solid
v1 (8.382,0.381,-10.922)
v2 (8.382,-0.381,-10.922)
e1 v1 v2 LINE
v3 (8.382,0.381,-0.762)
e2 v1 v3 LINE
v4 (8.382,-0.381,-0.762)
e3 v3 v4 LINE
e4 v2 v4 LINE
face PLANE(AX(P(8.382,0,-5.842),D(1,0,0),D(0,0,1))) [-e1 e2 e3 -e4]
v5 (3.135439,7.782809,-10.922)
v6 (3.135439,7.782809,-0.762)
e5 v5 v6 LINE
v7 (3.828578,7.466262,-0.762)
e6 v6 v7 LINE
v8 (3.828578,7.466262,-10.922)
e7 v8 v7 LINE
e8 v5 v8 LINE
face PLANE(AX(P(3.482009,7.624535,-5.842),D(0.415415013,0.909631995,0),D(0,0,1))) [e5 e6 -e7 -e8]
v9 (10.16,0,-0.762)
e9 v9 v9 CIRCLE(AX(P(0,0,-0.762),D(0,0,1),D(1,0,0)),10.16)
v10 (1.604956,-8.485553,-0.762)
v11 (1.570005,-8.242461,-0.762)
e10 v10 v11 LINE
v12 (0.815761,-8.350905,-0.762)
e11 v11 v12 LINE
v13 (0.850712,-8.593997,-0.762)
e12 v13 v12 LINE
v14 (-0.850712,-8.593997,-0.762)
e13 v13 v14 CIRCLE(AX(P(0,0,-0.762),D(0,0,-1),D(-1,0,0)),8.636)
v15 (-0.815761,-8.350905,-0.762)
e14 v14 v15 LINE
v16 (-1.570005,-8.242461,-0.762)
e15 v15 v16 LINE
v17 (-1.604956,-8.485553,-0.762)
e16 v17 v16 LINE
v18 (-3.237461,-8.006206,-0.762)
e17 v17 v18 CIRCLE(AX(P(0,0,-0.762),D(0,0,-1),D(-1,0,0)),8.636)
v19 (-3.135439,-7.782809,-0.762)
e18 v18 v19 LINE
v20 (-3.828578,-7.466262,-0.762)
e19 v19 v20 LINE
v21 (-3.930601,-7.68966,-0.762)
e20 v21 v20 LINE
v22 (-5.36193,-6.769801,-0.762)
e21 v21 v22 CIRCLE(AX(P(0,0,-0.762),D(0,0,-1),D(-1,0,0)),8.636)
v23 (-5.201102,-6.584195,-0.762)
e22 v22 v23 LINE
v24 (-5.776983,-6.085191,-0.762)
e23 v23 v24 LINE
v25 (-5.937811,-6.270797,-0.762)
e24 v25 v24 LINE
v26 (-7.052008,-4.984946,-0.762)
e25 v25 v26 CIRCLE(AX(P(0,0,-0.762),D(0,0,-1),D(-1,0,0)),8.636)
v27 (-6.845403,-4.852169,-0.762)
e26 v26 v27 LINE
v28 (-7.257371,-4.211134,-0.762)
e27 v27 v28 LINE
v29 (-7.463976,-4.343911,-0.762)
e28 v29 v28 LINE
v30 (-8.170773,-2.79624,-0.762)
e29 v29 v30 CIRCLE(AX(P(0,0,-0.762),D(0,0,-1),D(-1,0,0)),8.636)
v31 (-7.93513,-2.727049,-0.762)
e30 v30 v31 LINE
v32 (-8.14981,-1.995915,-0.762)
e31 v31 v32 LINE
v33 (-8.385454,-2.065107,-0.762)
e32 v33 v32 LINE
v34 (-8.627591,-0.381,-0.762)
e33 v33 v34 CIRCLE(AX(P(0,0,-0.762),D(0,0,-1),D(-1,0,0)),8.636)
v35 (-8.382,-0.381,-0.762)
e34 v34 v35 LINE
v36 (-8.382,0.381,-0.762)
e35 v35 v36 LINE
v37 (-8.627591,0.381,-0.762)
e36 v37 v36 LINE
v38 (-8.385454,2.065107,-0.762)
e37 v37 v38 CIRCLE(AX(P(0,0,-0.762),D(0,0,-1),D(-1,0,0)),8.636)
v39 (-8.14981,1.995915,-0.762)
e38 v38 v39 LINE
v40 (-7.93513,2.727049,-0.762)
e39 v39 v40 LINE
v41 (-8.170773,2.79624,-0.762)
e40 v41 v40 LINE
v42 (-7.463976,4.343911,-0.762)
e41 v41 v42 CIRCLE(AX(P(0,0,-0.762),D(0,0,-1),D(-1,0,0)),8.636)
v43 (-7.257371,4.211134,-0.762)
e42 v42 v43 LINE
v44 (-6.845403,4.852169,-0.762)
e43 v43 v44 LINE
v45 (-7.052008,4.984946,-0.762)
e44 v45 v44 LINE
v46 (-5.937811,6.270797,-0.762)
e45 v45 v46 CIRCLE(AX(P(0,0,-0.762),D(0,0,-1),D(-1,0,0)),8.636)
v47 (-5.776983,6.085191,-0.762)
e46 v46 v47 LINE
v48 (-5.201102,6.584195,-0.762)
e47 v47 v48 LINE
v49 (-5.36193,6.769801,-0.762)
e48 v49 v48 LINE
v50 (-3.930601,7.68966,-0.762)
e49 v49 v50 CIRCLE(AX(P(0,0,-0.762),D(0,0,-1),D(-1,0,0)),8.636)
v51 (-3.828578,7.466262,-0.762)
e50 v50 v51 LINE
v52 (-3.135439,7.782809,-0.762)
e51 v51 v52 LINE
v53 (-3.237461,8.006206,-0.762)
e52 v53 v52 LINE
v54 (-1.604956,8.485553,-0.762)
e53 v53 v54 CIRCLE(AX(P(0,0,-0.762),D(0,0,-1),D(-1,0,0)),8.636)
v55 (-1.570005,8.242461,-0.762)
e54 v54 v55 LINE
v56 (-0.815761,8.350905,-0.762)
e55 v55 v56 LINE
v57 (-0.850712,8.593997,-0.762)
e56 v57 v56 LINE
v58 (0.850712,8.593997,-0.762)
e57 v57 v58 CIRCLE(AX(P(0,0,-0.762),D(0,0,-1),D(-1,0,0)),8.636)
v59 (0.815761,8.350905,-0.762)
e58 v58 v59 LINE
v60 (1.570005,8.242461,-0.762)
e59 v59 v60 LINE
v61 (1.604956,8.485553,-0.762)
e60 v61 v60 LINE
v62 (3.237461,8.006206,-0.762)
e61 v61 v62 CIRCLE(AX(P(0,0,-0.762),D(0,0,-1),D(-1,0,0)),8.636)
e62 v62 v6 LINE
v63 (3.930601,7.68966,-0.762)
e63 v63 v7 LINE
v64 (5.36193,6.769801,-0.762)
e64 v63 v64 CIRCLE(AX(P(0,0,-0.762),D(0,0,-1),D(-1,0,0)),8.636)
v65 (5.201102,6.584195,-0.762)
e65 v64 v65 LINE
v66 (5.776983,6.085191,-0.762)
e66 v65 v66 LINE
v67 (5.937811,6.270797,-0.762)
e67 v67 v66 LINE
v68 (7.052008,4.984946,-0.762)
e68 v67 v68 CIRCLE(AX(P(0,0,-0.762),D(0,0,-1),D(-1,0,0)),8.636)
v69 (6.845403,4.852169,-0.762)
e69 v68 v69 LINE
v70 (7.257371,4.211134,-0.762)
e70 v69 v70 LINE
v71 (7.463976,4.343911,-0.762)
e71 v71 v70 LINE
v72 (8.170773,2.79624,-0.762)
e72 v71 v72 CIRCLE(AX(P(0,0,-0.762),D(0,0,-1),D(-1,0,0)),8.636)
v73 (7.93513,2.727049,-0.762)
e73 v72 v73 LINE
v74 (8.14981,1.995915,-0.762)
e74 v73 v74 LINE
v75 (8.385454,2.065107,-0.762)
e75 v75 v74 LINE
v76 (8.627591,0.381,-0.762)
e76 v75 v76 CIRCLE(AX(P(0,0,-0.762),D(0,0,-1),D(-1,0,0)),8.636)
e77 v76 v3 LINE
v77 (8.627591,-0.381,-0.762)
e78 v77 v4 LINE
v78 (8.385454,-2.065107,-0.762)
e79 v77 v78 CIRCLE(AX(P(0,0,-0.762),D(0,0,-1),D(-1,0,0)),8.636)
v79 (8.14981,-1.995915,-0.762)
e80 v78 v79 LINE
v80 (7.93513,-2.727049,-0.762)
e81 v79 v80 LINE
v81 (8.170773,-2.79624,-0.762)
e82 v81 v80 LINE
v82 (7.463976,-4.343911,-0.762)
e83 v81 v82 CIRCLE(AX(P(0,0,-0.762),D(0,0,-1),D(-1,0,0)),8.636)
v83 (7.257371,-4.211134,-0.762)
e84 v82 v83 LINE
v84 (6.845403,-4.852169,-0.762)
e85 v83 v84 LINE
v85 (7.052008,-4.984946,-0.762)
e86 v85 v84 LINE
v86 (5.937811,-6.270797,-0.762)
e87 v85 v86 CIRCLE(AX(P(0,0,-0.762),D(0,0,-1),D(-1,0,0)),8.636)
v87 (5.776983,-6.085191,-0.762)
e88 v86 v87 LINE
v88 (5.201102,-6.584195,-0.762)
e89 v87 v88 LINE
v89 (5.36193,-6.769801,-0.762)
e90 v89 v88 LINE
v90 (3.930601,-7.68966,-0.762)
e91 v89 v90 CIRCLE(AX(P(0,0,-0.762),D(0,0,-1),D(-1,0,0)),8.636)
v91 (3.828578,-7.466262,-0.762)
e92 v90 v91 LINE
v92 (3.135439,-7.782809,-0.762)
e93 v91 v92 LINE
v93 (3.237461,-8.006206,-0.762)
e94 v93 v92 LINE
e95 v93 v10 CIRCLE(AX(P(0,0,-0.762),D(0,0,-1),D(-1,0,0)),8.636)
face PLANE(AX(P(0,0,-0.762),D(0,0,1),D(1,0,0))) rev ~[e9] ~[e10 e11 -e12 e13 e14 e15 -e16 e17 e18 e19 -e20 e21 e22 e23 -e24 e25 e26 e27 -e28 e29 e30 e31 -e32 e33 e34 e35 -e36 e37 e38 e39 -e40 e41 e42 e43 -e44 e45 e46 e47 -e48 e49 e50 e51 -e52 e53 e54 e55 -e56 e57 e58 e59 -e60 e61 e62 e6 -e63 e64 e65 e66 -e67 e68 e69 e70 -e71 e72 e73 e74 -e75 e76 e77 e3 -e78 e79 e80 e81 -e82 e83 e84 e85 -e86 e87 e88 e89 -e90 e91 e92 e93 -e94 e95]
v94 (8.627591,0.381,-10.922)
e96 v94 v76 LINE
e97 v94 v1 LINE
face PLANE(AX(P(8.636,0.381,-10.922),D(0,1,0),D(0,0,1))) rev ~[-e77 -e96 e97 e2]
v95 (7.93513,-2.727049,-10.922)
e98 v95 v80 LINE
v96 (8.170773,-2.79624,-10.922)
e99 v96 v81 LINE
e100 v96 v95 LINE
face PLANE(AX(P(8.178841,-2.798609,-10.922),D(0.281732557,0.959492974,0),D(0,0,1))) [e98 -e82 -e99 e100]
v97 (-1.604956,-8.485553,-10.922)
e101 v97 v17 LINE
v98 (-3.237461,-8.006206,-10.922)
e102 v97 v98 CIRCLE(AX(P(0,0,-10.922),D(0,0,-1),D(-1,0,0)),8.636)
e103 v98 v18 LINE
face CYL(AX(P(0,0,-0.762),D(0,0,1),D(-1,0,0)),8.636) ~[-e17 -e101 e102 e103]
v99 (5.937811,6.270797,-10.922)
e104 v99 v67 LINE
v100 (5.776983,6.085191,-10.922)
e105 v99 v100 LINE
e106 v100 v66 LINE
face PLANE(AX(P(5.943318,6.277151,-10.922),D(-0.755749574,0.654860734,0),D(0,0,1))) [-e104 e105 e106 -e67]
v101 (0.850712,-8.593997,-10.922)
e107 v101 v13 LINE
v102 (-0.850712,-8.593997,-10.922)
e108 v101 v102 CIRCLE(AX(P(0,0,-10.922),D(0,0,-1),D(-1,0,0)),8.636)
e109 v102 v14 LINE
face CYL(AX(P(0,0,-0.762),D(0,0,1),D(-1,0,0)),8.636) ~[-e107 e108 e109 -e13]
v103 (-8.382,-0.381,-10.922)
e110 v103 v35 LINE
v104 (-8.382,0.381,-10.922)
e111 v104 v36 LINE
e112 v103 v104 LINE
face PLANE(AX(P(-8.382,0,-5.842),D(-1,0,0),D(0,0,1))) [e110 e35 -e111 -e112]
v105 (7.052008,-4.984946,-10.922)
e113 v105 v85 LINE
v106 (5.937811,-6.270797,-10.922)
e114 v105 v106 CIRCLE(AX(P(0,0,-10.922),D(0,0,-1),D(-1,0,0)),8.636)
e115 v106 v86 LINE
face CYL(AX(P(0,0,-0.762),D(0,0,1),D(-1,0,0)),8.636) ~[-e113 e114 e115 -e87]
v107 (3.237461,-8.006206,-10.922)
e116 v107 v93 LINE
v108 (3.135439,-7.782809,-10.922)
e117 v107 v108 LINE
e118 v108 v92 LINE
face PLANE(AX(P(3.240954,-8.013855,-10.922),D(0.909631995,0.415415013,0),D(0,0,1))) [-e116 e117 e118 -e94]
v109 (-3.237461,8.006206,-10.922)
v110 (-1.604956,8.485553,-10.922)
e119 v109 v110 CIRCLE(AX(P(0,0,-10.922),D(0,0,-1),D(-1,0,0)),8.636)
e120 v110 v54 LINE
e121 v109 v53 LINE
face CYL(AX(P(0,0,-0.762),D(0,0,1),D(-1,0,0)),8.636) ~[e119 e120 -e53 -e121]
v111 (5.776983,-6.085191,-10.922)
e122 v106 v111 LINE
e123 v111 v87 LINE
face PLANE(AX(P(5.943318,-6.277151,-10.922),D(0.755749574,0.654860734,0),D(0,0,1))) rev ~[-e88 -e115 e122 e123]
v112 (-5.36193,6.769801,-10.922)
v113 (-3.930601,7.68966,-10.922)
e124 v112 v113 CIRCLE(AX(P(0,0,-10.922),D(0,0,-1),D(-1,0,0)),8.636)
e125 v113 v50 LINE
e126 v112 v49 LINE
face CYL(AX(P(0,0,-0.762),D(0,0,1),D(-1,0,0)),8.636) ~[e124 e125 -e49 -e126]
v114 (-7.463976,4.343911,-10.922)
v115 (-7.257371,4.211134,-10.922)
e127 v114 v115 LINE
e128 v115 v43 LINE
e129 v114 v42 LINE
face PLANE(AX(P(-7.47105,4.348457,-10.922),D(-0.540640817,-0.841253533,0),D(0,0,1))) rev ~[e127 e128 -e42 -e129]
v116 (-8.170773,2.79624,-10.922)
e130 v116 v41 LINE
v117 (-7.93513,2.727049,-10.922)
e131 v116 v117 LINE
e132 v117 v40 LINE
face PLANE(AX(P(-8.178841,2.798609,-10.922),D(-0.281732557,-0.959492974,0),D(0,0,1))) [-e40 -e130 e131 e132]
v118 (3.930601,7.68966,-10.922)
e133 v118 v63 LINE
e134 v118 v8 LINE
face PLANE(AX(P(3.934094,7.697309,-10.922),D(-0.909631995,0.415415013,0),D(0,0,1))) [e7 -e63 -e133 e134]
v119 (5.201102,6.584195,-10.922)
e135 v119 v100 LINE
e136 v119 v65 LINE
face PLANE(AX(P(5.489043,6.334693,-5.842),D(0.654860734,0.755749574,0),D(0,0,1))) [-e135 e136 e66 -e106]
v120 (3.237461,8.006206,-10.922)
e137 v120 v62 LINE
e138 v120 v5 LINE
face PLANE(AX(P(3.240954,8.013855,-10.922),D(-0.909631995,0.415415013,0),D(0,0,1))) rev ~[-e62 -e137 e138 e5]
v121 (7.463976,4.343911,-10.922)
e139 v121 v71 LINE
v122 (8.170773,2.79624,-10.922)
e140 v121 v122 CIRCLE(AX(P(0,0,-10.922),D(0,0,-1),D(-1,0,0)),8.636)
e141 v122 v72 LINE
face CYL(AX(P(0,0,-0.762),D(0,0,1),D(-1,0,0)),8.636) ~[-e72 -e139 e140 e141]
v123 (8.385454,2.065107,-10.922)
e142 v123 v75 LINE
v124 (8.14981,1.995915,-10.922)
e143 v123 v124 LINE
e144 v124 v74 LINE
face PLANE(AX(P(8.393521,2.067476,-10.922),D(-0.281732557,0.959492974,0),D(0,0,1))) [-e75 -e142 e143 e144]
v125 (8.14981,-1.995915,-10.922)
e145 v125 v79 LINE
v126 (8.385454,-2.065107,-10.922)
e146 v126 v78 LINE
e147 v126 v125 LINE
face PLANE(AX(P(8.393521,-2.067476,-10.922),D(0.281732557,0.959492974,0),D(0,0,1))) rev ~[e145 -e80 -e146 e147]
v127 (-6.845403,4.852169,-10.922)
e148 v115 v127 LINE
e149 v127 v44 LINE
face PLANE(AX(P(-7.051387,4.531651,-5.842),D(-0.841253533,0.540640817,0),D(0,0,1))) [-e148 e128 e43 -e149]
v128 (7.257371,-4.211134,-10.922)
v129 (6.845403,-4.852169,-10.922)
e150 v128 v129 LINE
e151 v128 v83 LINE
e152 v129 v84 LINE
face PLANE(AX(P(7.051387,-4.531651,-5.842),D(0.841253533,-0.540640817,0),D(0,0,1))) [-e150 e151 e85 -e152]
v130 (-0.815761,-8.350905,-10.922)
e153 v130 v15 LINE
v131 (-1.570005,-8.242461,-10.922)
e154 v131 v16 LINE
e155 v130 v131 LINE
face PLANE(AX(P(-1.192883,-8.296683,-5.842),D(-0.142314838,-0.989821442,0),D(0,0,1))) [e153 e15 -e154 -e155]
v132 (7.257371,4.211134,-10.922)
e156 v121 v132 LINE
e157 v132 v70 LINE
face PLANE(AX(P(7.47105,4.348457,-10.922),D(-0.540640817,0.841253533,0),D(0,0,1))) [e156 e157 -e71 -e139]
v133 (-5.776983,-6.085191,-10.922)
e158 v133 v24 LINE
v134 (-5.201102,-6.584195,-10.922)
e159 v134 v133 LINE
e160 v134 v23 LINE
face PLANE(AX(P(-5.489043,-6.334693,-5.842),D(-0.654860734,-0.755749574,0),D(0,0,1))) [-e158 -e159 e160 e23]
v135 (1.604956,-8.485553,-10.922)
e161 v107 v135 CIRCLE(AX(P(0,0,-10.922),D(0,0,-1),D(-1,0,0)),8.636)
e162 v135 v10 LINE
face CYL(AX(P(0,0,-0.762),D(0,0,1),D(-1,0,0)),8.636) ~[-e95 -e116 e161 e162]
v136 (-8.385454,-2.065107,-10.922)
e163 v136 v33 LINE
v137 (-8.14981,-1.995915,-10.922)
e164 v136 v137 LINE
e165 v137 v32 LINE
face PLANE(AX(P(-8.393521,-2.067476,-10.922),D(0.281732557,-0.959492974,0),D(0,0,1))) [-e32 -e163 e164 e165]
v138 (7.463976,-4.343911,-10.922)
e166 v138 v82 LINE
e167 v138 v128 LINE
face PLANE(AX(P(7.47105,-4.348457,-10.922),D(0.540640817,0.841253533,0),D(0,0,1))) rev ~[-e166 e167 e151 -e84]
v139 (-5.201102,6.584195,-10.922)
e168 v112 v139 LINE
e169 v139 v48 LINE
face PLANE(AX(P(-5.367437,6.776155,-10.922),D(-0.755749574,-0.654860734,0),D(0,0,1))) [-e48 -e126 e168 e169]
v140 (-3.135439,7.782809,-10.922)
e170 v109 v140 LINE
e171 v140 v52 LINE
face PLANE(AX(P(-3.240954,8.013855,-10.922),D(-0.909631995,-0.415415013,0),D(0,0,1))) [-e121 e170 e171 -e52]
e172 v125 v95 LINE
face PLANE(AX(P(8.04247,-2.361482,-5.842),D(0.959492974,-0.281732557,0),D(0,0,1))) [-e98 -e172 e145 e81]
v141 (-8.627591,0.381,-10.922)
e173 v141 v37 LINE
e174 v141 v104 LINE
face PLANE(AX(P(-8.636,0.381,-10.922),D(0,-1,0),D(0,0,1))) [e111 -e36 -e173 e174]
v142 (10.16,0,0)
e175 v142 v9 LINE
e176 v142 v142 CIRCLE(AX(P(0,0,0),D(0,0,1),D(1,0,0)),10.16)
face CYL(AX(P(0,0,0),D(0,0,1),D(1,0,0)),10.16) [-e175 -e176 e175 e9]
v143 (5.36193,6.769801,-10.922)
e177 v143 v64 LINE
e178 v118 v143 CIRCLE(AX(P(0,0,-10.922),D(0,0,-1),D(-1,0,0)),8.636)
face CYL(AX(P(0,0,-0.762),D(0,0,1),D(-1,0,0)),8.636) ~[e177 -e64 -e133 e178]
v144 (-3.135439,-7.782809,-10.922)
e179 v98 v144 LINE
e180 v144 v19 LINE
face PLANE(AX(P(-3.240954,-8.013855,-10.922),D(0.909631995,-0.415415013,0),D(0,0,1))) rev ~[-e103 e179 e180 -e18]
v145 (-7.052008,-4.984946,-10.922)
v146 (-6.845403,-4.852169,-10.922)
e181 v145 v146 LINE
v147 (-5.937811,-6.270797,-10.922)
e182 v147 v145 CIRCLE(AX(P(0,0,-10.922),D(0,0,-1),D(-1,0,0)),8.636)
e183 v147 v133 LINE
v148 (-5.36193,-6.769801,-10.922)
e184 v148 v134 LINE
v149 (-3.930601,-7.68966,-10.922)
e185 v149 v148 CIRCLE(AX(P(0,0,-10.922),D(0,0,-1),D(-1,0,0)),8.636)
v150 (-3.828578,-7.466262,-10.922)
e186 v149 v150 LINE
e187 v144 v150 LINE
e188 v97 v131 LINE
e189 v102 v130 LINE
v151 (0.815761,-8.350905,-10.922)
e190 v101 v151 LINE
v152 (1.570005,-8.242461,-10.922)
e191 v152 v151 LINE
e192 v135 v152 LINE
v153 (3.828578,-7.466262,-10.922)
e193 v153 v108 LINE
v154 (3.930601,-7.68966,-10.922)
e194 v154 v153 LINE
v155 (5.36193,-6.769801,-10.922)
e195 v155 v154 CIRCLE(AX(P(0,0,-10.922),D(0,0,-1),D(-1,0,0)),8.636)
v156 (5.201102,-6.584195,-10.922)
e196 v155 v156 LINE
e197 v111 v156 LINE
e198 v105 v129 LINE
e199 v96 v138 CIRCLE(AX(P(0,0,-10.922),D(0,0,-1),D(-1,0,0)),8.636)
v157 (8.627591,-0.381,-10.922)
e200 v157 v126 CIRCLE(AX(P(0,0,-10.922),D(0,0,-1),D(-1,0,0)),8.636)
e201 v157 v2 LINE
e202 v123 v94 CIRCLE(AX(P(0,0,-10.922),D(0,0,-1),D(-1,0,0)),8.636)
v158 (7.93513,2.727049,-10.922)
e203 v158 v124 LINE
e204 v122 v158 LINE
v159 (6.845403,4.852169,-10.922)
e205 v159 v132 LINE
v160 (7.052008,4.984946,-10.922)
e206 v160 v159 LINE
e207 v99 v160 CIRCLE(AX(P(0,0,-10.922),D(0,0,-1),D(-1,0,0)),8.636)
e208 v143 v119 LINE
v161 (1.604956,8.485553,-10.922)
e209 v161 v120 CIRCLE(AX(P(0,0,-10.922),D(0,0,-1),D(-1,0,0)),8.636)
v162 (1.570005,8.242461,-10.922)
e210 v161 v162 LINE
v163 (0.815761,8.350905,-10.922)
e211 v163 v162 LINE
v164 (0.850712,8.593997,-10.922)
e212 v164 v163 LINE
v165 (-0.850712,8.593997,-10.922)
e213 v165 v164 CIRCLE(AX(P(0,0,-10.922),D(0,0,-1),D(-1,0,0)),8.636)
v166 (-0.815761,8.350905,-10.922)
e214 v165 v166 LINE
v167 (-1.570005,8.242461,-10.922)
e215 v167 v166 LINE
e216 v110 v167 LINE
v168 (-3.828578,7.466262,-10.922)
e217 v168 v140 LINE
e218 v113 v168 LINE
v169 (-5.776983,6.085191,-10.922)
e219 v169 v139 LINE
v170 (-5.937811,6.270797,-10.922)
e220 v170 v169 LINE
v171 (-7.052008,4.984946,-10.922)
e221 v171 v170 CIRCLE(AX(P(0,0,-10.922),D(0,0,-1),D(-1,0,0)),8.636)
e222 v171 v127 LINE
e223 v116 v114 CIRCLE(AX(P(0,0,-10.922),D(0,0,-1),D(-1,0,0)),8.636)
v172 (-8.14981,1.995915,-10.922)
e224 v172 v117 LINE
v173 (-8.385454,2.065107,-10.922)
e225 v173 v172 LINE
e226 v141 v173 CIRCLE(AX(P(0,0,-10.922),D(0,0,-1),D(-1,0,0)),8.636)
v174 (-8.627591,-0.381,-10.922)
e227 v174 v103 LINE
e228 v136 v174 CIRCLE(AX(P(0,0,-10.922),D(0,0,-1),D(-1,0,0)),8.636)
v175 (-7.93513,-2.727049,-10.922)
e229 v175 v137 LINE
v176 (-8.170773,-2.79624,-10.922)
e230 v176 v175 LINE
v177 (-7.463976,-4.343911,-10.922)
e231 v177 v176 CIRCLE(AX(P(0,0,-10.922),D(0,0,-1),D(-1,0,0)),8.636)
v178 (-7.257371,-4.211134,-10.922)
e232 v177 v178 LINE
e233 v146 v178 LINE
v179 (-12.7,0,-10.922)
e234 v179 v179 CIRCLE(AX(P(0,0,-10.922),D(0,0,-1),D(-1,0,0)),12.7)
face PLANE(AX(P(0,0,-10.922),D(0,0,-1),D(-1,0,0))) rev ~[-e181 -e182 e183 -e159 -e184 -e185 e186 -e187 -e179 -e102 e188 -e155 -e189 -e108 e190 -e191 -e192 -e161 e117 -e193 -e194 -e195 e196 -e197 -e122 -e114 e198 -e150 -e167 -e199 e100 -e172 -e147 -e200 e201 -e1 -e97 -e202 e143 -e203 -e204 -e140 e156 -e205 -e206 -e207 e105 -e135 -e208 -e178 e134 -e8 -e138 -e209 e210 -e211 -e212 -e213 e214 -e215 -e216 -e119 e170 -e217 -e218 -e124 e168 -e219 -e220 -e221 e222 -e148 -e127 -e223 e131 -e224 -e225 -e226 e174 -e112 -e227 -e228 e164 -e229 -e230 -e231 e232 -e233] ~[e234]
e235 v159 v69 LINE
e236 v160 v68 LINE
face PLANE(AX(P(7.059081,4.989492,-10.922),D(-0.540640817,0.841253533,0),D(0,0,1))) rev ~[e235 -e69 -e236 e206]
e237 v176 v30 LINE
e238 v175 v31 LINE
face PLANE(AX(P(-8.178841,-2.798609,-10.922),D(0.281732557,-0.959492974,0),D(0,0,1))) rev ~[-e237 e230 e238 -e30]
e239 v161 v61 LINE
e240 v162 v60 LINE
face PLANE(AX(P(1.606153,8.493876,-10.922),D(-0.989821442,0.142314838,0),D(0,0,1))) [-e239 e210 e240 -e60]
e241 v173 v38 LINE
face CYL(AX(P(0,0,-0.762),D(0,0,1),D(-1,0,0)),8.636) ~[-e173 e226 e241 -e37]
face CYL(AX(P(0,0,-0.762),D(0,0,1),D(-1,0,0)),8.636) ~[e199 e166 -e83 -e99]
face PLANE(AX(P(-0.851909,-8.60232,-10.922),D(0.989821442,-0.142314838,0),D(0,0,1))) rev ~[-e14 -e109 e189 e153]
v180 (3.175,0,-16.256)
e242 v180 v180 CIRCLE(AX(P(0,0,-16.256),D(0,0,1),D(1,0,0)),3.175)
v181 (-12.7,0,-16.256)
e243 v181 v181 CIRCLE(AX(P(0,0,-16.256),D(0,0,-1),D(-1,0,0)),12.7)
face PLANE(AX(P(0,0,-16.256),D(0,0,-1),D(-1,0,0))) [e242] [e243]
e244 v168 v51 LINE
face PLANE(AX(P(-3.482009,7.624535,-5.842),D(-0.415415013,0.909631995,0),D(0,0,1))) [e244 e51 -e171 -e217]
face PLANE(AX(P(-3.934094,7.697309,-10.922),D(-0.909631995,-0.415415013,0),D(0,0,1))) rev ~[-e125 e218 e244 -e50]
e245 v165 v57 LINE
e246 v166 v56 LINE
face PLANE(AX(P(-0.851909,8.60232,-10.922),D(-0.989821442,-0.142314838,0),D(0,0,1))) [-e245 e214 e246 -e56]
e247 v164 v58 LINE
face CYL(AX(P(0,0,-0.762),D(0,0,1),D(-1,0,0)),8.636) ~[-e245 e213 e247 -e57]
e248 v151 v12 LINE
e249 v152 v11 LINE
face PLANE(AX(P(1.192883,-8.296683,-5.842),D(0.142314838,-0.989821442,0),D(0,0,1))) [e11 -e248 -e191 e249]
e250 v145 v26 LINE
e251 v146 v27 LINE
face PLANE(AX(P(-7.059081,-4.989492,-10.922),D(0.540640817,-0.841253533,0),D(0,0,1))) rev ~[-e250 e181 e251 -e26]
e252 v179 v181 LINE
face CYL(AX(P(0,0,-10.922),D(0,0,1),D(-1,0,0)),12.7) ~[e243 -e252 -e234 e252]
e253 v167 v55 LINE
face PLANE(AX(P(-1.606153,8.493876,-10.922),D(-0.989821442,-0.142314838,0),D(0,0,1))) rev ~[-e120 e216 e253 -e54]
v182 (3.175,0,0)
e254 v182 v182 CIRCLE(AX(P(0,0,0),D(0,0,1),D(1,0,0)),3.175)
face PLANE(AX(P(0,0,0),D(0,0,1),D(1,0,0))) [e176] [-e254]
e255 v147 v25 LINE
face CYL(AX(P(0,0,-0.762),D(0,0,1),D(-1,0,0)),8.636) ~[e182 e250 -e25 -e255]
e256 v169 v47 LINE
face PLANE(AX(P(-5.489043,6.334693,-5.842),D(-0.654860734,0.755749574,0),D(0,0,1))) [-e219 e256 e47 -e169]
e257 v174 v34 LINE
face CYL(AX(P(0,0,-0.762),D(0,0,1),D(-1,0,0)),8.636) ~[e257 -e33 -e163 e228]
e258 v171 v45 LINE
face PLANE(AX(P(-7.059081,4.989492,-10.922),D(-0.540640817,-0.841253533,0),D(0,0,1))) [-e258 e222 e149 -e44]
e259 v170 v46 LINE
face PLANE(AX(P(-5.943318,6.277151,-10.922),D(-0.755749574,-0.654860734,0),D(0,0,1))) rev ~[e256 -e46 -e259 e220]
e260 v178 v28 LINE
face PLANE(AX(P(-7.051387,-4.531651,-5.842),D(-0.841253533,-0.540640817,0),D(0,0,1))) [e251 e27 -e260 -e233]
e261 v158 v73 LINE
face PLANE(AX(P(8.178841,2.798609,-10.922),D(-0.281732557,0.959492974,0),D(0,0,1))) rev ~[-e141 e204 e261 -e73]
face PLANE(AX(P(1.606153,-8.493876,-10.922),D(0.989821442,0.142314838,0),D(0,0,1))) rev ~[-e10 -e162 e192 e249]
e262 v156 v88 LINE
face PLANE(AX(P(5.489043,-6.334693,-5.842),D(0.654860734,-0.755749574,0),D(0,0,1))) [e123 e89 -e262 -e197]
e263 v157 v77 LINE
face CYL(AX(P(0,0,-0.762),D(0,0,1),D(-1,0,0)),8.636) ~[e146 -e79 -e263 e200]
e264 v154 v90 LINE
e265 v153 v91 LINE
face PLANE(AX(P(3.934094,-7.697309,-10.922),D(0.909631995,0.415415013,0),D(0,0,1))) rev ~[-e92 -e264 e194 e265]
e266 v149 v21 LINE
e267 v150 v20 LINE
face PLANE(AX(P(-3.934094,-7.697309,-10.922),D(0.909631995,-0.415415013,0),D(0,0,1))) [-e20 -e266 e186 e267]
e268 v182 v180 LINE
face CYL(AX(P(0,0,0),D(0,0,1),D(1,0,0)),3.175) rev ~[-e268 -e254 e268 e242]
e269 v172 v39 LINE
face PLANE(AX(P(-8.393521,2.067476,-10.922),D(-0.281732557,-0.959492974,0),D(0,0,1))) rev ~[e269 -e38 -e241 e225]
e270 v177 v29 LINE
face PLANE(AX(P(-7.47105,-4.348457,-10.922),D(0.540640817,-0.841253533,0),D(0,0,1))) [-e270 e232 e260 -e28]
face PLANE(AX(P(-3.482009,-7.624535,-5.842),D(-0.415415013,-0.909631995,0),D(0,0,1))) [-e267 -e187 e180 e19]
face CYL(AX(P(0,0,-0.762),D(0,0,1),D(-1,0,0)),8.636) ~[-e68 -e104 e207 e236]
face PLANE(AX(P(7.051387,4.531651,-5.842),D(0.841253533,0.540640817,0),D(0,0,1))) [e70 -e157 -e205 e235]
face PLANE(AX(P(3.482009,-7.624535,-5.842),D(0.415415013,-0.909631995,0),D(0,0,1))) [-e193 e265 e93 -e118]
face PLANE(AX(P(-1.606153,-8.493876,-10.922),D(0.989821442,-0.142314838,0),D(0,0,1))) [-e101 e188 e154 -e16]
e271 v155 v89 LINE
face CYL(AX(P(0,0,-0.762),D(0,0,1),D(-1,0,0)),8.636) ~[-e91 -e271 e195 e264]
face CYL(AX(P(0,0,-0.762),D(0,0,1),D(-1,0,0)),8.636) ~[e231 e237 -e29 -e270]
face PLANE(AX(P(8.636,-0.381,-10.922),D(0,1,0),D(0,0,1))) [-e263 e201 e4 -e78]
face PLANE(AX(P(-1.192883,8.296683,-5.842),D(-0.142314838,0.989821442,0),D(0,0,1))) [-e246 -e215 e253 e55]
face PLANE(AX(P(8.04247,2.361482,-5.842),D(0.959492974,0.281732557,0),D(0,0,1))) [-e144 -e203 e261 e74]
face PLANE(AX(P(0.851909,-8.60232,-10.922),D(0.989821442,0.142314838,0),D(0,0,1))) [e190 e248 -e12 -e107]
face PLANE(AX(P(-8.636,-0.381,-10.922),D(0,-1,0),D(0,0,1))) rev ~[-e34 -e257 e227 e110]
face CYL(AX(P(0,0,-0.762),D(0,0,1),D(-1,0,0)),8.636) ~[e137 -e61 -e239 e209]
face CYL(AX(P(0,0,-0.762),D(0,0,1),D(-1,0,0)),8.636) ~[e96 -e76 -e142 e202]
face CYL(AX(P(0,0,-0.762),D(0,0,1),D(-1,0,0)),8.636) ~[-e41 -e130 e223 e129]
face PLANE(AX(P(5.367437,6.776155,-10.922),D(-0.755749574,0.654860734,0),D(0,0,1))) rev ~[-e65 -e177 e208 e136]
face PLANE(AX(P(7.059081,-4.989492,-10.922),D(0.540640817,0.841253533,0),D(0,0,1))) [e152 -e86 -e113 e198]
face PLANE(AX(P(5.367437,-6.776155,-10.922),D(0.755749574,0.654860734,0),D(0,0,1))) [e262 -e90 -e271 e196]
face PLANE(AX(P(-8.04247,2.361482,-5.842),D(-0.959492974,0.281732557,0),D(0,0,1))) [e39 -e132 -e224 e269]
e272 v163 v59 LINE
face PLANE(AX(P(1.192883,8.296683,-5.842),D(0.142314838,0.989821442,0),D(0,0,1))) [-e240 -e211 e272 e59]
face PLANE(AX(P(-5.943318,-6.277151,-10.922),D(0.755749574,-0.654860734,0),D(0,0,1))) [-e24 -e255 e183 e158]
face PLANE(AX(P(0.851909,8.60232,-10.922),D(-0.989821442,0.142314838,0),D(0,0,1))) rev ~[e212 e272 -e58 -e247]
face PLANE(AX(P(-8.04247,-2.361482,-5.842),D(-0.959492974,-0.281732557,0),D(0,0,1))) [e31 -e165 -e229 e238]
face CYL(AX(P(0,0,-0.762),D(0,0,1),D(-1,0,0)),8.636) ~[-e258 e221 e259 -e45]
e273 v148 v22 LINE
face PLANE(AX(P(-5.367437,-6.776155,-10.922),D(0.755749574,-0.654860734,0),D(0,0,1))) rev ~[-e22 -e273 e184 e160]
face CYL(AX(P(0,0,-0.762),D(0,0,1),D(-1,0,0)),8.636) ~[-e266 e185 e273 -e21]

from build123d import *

# Parameters (mm, degrees)
SKETCH1_R           = 10.16
BOSS_EXTRUDE1_DEPTH = 0.762
SKETCH2_R           = 8.636
BOSS_EXTRUDE2_DEPTH = 10.16
SKETCH3_R           = 12.7
BOSS_EXTRUDE3_DEPTH = 5.334
SKETCH4_R           = 3.175
CUT_EXTRUDE1_DEPTH  = 25.654
SKETCH5_W           = 10.16
SKETCH5_H           = 0.762
CUT_EXTRUDE2_DEPTH  = 0.254
CIRPATTERN1_COUNT   = 22


with BuildPart() as part:
    # Sketch1 → Boss-Extrude1 (new body)
    with BuildSketch(Plane.XY):
        Circle(SKETCH1_R)
    extrude(amount=-BOSS_EXTRUDE1_DEPTH)

    # Sketch2 → Boss-Extrude2 (add)
    with BuildSketch(Plane(origin=(0, 0, -0.762), x_dir=(-1, 0, 0), z_dir=(0, 0, -1))):
        Circle(SKETCH2_R)
    extrude(amount=BOSS_EXTRUDE2_DEPTH)

    # Sketch3 → Boss-Extrude3 (add)
    with BuildSketch(Plane(origin=(0, 0, -10.922), x_dir=(-1, 0, 0), z_dir=(0, 0, -1))):
        Circle(SKETCH3_R)
    extrude(amount=BOSS_EXTRUDE3_DEPTH)

    # Sketch4 → Cut-Extrude1 (cut)
    with BuildSketch(Plane.XY):
        Circle(SKETCH4_R)
    extrude(amount=-CUT_EXTRUDE1_DEPTH, mode=Mode.SUBTRACT)

    # Sketch5 → Cut-Extrude2 (cut)
    with BuildSketch(Plane.ZY.offset(8.636)):
        with Locations((-5.842, 0)):
            Rectangle(SKETCH5_W, SKETCH5_H)
    cut_extrude2 = extrude(amount=-CUT_EXTRUDE2_DEPTH, mode=Mode.SUBTRACT)

    # CirPattern1: Cut-Extrude2 ×22 about axis
    cirpattern1_axis = Axis((0, 0, -16.256), (0, 0, 1))
    for i in range(1, CIRPATTERN1_COUNT):
        add(cut_extrude2.rotate(cirpattern1_axis, i * 360 / CIRPATTERN1_COUNT), mode=Mode.SUBTRACT)


solid = part.part
